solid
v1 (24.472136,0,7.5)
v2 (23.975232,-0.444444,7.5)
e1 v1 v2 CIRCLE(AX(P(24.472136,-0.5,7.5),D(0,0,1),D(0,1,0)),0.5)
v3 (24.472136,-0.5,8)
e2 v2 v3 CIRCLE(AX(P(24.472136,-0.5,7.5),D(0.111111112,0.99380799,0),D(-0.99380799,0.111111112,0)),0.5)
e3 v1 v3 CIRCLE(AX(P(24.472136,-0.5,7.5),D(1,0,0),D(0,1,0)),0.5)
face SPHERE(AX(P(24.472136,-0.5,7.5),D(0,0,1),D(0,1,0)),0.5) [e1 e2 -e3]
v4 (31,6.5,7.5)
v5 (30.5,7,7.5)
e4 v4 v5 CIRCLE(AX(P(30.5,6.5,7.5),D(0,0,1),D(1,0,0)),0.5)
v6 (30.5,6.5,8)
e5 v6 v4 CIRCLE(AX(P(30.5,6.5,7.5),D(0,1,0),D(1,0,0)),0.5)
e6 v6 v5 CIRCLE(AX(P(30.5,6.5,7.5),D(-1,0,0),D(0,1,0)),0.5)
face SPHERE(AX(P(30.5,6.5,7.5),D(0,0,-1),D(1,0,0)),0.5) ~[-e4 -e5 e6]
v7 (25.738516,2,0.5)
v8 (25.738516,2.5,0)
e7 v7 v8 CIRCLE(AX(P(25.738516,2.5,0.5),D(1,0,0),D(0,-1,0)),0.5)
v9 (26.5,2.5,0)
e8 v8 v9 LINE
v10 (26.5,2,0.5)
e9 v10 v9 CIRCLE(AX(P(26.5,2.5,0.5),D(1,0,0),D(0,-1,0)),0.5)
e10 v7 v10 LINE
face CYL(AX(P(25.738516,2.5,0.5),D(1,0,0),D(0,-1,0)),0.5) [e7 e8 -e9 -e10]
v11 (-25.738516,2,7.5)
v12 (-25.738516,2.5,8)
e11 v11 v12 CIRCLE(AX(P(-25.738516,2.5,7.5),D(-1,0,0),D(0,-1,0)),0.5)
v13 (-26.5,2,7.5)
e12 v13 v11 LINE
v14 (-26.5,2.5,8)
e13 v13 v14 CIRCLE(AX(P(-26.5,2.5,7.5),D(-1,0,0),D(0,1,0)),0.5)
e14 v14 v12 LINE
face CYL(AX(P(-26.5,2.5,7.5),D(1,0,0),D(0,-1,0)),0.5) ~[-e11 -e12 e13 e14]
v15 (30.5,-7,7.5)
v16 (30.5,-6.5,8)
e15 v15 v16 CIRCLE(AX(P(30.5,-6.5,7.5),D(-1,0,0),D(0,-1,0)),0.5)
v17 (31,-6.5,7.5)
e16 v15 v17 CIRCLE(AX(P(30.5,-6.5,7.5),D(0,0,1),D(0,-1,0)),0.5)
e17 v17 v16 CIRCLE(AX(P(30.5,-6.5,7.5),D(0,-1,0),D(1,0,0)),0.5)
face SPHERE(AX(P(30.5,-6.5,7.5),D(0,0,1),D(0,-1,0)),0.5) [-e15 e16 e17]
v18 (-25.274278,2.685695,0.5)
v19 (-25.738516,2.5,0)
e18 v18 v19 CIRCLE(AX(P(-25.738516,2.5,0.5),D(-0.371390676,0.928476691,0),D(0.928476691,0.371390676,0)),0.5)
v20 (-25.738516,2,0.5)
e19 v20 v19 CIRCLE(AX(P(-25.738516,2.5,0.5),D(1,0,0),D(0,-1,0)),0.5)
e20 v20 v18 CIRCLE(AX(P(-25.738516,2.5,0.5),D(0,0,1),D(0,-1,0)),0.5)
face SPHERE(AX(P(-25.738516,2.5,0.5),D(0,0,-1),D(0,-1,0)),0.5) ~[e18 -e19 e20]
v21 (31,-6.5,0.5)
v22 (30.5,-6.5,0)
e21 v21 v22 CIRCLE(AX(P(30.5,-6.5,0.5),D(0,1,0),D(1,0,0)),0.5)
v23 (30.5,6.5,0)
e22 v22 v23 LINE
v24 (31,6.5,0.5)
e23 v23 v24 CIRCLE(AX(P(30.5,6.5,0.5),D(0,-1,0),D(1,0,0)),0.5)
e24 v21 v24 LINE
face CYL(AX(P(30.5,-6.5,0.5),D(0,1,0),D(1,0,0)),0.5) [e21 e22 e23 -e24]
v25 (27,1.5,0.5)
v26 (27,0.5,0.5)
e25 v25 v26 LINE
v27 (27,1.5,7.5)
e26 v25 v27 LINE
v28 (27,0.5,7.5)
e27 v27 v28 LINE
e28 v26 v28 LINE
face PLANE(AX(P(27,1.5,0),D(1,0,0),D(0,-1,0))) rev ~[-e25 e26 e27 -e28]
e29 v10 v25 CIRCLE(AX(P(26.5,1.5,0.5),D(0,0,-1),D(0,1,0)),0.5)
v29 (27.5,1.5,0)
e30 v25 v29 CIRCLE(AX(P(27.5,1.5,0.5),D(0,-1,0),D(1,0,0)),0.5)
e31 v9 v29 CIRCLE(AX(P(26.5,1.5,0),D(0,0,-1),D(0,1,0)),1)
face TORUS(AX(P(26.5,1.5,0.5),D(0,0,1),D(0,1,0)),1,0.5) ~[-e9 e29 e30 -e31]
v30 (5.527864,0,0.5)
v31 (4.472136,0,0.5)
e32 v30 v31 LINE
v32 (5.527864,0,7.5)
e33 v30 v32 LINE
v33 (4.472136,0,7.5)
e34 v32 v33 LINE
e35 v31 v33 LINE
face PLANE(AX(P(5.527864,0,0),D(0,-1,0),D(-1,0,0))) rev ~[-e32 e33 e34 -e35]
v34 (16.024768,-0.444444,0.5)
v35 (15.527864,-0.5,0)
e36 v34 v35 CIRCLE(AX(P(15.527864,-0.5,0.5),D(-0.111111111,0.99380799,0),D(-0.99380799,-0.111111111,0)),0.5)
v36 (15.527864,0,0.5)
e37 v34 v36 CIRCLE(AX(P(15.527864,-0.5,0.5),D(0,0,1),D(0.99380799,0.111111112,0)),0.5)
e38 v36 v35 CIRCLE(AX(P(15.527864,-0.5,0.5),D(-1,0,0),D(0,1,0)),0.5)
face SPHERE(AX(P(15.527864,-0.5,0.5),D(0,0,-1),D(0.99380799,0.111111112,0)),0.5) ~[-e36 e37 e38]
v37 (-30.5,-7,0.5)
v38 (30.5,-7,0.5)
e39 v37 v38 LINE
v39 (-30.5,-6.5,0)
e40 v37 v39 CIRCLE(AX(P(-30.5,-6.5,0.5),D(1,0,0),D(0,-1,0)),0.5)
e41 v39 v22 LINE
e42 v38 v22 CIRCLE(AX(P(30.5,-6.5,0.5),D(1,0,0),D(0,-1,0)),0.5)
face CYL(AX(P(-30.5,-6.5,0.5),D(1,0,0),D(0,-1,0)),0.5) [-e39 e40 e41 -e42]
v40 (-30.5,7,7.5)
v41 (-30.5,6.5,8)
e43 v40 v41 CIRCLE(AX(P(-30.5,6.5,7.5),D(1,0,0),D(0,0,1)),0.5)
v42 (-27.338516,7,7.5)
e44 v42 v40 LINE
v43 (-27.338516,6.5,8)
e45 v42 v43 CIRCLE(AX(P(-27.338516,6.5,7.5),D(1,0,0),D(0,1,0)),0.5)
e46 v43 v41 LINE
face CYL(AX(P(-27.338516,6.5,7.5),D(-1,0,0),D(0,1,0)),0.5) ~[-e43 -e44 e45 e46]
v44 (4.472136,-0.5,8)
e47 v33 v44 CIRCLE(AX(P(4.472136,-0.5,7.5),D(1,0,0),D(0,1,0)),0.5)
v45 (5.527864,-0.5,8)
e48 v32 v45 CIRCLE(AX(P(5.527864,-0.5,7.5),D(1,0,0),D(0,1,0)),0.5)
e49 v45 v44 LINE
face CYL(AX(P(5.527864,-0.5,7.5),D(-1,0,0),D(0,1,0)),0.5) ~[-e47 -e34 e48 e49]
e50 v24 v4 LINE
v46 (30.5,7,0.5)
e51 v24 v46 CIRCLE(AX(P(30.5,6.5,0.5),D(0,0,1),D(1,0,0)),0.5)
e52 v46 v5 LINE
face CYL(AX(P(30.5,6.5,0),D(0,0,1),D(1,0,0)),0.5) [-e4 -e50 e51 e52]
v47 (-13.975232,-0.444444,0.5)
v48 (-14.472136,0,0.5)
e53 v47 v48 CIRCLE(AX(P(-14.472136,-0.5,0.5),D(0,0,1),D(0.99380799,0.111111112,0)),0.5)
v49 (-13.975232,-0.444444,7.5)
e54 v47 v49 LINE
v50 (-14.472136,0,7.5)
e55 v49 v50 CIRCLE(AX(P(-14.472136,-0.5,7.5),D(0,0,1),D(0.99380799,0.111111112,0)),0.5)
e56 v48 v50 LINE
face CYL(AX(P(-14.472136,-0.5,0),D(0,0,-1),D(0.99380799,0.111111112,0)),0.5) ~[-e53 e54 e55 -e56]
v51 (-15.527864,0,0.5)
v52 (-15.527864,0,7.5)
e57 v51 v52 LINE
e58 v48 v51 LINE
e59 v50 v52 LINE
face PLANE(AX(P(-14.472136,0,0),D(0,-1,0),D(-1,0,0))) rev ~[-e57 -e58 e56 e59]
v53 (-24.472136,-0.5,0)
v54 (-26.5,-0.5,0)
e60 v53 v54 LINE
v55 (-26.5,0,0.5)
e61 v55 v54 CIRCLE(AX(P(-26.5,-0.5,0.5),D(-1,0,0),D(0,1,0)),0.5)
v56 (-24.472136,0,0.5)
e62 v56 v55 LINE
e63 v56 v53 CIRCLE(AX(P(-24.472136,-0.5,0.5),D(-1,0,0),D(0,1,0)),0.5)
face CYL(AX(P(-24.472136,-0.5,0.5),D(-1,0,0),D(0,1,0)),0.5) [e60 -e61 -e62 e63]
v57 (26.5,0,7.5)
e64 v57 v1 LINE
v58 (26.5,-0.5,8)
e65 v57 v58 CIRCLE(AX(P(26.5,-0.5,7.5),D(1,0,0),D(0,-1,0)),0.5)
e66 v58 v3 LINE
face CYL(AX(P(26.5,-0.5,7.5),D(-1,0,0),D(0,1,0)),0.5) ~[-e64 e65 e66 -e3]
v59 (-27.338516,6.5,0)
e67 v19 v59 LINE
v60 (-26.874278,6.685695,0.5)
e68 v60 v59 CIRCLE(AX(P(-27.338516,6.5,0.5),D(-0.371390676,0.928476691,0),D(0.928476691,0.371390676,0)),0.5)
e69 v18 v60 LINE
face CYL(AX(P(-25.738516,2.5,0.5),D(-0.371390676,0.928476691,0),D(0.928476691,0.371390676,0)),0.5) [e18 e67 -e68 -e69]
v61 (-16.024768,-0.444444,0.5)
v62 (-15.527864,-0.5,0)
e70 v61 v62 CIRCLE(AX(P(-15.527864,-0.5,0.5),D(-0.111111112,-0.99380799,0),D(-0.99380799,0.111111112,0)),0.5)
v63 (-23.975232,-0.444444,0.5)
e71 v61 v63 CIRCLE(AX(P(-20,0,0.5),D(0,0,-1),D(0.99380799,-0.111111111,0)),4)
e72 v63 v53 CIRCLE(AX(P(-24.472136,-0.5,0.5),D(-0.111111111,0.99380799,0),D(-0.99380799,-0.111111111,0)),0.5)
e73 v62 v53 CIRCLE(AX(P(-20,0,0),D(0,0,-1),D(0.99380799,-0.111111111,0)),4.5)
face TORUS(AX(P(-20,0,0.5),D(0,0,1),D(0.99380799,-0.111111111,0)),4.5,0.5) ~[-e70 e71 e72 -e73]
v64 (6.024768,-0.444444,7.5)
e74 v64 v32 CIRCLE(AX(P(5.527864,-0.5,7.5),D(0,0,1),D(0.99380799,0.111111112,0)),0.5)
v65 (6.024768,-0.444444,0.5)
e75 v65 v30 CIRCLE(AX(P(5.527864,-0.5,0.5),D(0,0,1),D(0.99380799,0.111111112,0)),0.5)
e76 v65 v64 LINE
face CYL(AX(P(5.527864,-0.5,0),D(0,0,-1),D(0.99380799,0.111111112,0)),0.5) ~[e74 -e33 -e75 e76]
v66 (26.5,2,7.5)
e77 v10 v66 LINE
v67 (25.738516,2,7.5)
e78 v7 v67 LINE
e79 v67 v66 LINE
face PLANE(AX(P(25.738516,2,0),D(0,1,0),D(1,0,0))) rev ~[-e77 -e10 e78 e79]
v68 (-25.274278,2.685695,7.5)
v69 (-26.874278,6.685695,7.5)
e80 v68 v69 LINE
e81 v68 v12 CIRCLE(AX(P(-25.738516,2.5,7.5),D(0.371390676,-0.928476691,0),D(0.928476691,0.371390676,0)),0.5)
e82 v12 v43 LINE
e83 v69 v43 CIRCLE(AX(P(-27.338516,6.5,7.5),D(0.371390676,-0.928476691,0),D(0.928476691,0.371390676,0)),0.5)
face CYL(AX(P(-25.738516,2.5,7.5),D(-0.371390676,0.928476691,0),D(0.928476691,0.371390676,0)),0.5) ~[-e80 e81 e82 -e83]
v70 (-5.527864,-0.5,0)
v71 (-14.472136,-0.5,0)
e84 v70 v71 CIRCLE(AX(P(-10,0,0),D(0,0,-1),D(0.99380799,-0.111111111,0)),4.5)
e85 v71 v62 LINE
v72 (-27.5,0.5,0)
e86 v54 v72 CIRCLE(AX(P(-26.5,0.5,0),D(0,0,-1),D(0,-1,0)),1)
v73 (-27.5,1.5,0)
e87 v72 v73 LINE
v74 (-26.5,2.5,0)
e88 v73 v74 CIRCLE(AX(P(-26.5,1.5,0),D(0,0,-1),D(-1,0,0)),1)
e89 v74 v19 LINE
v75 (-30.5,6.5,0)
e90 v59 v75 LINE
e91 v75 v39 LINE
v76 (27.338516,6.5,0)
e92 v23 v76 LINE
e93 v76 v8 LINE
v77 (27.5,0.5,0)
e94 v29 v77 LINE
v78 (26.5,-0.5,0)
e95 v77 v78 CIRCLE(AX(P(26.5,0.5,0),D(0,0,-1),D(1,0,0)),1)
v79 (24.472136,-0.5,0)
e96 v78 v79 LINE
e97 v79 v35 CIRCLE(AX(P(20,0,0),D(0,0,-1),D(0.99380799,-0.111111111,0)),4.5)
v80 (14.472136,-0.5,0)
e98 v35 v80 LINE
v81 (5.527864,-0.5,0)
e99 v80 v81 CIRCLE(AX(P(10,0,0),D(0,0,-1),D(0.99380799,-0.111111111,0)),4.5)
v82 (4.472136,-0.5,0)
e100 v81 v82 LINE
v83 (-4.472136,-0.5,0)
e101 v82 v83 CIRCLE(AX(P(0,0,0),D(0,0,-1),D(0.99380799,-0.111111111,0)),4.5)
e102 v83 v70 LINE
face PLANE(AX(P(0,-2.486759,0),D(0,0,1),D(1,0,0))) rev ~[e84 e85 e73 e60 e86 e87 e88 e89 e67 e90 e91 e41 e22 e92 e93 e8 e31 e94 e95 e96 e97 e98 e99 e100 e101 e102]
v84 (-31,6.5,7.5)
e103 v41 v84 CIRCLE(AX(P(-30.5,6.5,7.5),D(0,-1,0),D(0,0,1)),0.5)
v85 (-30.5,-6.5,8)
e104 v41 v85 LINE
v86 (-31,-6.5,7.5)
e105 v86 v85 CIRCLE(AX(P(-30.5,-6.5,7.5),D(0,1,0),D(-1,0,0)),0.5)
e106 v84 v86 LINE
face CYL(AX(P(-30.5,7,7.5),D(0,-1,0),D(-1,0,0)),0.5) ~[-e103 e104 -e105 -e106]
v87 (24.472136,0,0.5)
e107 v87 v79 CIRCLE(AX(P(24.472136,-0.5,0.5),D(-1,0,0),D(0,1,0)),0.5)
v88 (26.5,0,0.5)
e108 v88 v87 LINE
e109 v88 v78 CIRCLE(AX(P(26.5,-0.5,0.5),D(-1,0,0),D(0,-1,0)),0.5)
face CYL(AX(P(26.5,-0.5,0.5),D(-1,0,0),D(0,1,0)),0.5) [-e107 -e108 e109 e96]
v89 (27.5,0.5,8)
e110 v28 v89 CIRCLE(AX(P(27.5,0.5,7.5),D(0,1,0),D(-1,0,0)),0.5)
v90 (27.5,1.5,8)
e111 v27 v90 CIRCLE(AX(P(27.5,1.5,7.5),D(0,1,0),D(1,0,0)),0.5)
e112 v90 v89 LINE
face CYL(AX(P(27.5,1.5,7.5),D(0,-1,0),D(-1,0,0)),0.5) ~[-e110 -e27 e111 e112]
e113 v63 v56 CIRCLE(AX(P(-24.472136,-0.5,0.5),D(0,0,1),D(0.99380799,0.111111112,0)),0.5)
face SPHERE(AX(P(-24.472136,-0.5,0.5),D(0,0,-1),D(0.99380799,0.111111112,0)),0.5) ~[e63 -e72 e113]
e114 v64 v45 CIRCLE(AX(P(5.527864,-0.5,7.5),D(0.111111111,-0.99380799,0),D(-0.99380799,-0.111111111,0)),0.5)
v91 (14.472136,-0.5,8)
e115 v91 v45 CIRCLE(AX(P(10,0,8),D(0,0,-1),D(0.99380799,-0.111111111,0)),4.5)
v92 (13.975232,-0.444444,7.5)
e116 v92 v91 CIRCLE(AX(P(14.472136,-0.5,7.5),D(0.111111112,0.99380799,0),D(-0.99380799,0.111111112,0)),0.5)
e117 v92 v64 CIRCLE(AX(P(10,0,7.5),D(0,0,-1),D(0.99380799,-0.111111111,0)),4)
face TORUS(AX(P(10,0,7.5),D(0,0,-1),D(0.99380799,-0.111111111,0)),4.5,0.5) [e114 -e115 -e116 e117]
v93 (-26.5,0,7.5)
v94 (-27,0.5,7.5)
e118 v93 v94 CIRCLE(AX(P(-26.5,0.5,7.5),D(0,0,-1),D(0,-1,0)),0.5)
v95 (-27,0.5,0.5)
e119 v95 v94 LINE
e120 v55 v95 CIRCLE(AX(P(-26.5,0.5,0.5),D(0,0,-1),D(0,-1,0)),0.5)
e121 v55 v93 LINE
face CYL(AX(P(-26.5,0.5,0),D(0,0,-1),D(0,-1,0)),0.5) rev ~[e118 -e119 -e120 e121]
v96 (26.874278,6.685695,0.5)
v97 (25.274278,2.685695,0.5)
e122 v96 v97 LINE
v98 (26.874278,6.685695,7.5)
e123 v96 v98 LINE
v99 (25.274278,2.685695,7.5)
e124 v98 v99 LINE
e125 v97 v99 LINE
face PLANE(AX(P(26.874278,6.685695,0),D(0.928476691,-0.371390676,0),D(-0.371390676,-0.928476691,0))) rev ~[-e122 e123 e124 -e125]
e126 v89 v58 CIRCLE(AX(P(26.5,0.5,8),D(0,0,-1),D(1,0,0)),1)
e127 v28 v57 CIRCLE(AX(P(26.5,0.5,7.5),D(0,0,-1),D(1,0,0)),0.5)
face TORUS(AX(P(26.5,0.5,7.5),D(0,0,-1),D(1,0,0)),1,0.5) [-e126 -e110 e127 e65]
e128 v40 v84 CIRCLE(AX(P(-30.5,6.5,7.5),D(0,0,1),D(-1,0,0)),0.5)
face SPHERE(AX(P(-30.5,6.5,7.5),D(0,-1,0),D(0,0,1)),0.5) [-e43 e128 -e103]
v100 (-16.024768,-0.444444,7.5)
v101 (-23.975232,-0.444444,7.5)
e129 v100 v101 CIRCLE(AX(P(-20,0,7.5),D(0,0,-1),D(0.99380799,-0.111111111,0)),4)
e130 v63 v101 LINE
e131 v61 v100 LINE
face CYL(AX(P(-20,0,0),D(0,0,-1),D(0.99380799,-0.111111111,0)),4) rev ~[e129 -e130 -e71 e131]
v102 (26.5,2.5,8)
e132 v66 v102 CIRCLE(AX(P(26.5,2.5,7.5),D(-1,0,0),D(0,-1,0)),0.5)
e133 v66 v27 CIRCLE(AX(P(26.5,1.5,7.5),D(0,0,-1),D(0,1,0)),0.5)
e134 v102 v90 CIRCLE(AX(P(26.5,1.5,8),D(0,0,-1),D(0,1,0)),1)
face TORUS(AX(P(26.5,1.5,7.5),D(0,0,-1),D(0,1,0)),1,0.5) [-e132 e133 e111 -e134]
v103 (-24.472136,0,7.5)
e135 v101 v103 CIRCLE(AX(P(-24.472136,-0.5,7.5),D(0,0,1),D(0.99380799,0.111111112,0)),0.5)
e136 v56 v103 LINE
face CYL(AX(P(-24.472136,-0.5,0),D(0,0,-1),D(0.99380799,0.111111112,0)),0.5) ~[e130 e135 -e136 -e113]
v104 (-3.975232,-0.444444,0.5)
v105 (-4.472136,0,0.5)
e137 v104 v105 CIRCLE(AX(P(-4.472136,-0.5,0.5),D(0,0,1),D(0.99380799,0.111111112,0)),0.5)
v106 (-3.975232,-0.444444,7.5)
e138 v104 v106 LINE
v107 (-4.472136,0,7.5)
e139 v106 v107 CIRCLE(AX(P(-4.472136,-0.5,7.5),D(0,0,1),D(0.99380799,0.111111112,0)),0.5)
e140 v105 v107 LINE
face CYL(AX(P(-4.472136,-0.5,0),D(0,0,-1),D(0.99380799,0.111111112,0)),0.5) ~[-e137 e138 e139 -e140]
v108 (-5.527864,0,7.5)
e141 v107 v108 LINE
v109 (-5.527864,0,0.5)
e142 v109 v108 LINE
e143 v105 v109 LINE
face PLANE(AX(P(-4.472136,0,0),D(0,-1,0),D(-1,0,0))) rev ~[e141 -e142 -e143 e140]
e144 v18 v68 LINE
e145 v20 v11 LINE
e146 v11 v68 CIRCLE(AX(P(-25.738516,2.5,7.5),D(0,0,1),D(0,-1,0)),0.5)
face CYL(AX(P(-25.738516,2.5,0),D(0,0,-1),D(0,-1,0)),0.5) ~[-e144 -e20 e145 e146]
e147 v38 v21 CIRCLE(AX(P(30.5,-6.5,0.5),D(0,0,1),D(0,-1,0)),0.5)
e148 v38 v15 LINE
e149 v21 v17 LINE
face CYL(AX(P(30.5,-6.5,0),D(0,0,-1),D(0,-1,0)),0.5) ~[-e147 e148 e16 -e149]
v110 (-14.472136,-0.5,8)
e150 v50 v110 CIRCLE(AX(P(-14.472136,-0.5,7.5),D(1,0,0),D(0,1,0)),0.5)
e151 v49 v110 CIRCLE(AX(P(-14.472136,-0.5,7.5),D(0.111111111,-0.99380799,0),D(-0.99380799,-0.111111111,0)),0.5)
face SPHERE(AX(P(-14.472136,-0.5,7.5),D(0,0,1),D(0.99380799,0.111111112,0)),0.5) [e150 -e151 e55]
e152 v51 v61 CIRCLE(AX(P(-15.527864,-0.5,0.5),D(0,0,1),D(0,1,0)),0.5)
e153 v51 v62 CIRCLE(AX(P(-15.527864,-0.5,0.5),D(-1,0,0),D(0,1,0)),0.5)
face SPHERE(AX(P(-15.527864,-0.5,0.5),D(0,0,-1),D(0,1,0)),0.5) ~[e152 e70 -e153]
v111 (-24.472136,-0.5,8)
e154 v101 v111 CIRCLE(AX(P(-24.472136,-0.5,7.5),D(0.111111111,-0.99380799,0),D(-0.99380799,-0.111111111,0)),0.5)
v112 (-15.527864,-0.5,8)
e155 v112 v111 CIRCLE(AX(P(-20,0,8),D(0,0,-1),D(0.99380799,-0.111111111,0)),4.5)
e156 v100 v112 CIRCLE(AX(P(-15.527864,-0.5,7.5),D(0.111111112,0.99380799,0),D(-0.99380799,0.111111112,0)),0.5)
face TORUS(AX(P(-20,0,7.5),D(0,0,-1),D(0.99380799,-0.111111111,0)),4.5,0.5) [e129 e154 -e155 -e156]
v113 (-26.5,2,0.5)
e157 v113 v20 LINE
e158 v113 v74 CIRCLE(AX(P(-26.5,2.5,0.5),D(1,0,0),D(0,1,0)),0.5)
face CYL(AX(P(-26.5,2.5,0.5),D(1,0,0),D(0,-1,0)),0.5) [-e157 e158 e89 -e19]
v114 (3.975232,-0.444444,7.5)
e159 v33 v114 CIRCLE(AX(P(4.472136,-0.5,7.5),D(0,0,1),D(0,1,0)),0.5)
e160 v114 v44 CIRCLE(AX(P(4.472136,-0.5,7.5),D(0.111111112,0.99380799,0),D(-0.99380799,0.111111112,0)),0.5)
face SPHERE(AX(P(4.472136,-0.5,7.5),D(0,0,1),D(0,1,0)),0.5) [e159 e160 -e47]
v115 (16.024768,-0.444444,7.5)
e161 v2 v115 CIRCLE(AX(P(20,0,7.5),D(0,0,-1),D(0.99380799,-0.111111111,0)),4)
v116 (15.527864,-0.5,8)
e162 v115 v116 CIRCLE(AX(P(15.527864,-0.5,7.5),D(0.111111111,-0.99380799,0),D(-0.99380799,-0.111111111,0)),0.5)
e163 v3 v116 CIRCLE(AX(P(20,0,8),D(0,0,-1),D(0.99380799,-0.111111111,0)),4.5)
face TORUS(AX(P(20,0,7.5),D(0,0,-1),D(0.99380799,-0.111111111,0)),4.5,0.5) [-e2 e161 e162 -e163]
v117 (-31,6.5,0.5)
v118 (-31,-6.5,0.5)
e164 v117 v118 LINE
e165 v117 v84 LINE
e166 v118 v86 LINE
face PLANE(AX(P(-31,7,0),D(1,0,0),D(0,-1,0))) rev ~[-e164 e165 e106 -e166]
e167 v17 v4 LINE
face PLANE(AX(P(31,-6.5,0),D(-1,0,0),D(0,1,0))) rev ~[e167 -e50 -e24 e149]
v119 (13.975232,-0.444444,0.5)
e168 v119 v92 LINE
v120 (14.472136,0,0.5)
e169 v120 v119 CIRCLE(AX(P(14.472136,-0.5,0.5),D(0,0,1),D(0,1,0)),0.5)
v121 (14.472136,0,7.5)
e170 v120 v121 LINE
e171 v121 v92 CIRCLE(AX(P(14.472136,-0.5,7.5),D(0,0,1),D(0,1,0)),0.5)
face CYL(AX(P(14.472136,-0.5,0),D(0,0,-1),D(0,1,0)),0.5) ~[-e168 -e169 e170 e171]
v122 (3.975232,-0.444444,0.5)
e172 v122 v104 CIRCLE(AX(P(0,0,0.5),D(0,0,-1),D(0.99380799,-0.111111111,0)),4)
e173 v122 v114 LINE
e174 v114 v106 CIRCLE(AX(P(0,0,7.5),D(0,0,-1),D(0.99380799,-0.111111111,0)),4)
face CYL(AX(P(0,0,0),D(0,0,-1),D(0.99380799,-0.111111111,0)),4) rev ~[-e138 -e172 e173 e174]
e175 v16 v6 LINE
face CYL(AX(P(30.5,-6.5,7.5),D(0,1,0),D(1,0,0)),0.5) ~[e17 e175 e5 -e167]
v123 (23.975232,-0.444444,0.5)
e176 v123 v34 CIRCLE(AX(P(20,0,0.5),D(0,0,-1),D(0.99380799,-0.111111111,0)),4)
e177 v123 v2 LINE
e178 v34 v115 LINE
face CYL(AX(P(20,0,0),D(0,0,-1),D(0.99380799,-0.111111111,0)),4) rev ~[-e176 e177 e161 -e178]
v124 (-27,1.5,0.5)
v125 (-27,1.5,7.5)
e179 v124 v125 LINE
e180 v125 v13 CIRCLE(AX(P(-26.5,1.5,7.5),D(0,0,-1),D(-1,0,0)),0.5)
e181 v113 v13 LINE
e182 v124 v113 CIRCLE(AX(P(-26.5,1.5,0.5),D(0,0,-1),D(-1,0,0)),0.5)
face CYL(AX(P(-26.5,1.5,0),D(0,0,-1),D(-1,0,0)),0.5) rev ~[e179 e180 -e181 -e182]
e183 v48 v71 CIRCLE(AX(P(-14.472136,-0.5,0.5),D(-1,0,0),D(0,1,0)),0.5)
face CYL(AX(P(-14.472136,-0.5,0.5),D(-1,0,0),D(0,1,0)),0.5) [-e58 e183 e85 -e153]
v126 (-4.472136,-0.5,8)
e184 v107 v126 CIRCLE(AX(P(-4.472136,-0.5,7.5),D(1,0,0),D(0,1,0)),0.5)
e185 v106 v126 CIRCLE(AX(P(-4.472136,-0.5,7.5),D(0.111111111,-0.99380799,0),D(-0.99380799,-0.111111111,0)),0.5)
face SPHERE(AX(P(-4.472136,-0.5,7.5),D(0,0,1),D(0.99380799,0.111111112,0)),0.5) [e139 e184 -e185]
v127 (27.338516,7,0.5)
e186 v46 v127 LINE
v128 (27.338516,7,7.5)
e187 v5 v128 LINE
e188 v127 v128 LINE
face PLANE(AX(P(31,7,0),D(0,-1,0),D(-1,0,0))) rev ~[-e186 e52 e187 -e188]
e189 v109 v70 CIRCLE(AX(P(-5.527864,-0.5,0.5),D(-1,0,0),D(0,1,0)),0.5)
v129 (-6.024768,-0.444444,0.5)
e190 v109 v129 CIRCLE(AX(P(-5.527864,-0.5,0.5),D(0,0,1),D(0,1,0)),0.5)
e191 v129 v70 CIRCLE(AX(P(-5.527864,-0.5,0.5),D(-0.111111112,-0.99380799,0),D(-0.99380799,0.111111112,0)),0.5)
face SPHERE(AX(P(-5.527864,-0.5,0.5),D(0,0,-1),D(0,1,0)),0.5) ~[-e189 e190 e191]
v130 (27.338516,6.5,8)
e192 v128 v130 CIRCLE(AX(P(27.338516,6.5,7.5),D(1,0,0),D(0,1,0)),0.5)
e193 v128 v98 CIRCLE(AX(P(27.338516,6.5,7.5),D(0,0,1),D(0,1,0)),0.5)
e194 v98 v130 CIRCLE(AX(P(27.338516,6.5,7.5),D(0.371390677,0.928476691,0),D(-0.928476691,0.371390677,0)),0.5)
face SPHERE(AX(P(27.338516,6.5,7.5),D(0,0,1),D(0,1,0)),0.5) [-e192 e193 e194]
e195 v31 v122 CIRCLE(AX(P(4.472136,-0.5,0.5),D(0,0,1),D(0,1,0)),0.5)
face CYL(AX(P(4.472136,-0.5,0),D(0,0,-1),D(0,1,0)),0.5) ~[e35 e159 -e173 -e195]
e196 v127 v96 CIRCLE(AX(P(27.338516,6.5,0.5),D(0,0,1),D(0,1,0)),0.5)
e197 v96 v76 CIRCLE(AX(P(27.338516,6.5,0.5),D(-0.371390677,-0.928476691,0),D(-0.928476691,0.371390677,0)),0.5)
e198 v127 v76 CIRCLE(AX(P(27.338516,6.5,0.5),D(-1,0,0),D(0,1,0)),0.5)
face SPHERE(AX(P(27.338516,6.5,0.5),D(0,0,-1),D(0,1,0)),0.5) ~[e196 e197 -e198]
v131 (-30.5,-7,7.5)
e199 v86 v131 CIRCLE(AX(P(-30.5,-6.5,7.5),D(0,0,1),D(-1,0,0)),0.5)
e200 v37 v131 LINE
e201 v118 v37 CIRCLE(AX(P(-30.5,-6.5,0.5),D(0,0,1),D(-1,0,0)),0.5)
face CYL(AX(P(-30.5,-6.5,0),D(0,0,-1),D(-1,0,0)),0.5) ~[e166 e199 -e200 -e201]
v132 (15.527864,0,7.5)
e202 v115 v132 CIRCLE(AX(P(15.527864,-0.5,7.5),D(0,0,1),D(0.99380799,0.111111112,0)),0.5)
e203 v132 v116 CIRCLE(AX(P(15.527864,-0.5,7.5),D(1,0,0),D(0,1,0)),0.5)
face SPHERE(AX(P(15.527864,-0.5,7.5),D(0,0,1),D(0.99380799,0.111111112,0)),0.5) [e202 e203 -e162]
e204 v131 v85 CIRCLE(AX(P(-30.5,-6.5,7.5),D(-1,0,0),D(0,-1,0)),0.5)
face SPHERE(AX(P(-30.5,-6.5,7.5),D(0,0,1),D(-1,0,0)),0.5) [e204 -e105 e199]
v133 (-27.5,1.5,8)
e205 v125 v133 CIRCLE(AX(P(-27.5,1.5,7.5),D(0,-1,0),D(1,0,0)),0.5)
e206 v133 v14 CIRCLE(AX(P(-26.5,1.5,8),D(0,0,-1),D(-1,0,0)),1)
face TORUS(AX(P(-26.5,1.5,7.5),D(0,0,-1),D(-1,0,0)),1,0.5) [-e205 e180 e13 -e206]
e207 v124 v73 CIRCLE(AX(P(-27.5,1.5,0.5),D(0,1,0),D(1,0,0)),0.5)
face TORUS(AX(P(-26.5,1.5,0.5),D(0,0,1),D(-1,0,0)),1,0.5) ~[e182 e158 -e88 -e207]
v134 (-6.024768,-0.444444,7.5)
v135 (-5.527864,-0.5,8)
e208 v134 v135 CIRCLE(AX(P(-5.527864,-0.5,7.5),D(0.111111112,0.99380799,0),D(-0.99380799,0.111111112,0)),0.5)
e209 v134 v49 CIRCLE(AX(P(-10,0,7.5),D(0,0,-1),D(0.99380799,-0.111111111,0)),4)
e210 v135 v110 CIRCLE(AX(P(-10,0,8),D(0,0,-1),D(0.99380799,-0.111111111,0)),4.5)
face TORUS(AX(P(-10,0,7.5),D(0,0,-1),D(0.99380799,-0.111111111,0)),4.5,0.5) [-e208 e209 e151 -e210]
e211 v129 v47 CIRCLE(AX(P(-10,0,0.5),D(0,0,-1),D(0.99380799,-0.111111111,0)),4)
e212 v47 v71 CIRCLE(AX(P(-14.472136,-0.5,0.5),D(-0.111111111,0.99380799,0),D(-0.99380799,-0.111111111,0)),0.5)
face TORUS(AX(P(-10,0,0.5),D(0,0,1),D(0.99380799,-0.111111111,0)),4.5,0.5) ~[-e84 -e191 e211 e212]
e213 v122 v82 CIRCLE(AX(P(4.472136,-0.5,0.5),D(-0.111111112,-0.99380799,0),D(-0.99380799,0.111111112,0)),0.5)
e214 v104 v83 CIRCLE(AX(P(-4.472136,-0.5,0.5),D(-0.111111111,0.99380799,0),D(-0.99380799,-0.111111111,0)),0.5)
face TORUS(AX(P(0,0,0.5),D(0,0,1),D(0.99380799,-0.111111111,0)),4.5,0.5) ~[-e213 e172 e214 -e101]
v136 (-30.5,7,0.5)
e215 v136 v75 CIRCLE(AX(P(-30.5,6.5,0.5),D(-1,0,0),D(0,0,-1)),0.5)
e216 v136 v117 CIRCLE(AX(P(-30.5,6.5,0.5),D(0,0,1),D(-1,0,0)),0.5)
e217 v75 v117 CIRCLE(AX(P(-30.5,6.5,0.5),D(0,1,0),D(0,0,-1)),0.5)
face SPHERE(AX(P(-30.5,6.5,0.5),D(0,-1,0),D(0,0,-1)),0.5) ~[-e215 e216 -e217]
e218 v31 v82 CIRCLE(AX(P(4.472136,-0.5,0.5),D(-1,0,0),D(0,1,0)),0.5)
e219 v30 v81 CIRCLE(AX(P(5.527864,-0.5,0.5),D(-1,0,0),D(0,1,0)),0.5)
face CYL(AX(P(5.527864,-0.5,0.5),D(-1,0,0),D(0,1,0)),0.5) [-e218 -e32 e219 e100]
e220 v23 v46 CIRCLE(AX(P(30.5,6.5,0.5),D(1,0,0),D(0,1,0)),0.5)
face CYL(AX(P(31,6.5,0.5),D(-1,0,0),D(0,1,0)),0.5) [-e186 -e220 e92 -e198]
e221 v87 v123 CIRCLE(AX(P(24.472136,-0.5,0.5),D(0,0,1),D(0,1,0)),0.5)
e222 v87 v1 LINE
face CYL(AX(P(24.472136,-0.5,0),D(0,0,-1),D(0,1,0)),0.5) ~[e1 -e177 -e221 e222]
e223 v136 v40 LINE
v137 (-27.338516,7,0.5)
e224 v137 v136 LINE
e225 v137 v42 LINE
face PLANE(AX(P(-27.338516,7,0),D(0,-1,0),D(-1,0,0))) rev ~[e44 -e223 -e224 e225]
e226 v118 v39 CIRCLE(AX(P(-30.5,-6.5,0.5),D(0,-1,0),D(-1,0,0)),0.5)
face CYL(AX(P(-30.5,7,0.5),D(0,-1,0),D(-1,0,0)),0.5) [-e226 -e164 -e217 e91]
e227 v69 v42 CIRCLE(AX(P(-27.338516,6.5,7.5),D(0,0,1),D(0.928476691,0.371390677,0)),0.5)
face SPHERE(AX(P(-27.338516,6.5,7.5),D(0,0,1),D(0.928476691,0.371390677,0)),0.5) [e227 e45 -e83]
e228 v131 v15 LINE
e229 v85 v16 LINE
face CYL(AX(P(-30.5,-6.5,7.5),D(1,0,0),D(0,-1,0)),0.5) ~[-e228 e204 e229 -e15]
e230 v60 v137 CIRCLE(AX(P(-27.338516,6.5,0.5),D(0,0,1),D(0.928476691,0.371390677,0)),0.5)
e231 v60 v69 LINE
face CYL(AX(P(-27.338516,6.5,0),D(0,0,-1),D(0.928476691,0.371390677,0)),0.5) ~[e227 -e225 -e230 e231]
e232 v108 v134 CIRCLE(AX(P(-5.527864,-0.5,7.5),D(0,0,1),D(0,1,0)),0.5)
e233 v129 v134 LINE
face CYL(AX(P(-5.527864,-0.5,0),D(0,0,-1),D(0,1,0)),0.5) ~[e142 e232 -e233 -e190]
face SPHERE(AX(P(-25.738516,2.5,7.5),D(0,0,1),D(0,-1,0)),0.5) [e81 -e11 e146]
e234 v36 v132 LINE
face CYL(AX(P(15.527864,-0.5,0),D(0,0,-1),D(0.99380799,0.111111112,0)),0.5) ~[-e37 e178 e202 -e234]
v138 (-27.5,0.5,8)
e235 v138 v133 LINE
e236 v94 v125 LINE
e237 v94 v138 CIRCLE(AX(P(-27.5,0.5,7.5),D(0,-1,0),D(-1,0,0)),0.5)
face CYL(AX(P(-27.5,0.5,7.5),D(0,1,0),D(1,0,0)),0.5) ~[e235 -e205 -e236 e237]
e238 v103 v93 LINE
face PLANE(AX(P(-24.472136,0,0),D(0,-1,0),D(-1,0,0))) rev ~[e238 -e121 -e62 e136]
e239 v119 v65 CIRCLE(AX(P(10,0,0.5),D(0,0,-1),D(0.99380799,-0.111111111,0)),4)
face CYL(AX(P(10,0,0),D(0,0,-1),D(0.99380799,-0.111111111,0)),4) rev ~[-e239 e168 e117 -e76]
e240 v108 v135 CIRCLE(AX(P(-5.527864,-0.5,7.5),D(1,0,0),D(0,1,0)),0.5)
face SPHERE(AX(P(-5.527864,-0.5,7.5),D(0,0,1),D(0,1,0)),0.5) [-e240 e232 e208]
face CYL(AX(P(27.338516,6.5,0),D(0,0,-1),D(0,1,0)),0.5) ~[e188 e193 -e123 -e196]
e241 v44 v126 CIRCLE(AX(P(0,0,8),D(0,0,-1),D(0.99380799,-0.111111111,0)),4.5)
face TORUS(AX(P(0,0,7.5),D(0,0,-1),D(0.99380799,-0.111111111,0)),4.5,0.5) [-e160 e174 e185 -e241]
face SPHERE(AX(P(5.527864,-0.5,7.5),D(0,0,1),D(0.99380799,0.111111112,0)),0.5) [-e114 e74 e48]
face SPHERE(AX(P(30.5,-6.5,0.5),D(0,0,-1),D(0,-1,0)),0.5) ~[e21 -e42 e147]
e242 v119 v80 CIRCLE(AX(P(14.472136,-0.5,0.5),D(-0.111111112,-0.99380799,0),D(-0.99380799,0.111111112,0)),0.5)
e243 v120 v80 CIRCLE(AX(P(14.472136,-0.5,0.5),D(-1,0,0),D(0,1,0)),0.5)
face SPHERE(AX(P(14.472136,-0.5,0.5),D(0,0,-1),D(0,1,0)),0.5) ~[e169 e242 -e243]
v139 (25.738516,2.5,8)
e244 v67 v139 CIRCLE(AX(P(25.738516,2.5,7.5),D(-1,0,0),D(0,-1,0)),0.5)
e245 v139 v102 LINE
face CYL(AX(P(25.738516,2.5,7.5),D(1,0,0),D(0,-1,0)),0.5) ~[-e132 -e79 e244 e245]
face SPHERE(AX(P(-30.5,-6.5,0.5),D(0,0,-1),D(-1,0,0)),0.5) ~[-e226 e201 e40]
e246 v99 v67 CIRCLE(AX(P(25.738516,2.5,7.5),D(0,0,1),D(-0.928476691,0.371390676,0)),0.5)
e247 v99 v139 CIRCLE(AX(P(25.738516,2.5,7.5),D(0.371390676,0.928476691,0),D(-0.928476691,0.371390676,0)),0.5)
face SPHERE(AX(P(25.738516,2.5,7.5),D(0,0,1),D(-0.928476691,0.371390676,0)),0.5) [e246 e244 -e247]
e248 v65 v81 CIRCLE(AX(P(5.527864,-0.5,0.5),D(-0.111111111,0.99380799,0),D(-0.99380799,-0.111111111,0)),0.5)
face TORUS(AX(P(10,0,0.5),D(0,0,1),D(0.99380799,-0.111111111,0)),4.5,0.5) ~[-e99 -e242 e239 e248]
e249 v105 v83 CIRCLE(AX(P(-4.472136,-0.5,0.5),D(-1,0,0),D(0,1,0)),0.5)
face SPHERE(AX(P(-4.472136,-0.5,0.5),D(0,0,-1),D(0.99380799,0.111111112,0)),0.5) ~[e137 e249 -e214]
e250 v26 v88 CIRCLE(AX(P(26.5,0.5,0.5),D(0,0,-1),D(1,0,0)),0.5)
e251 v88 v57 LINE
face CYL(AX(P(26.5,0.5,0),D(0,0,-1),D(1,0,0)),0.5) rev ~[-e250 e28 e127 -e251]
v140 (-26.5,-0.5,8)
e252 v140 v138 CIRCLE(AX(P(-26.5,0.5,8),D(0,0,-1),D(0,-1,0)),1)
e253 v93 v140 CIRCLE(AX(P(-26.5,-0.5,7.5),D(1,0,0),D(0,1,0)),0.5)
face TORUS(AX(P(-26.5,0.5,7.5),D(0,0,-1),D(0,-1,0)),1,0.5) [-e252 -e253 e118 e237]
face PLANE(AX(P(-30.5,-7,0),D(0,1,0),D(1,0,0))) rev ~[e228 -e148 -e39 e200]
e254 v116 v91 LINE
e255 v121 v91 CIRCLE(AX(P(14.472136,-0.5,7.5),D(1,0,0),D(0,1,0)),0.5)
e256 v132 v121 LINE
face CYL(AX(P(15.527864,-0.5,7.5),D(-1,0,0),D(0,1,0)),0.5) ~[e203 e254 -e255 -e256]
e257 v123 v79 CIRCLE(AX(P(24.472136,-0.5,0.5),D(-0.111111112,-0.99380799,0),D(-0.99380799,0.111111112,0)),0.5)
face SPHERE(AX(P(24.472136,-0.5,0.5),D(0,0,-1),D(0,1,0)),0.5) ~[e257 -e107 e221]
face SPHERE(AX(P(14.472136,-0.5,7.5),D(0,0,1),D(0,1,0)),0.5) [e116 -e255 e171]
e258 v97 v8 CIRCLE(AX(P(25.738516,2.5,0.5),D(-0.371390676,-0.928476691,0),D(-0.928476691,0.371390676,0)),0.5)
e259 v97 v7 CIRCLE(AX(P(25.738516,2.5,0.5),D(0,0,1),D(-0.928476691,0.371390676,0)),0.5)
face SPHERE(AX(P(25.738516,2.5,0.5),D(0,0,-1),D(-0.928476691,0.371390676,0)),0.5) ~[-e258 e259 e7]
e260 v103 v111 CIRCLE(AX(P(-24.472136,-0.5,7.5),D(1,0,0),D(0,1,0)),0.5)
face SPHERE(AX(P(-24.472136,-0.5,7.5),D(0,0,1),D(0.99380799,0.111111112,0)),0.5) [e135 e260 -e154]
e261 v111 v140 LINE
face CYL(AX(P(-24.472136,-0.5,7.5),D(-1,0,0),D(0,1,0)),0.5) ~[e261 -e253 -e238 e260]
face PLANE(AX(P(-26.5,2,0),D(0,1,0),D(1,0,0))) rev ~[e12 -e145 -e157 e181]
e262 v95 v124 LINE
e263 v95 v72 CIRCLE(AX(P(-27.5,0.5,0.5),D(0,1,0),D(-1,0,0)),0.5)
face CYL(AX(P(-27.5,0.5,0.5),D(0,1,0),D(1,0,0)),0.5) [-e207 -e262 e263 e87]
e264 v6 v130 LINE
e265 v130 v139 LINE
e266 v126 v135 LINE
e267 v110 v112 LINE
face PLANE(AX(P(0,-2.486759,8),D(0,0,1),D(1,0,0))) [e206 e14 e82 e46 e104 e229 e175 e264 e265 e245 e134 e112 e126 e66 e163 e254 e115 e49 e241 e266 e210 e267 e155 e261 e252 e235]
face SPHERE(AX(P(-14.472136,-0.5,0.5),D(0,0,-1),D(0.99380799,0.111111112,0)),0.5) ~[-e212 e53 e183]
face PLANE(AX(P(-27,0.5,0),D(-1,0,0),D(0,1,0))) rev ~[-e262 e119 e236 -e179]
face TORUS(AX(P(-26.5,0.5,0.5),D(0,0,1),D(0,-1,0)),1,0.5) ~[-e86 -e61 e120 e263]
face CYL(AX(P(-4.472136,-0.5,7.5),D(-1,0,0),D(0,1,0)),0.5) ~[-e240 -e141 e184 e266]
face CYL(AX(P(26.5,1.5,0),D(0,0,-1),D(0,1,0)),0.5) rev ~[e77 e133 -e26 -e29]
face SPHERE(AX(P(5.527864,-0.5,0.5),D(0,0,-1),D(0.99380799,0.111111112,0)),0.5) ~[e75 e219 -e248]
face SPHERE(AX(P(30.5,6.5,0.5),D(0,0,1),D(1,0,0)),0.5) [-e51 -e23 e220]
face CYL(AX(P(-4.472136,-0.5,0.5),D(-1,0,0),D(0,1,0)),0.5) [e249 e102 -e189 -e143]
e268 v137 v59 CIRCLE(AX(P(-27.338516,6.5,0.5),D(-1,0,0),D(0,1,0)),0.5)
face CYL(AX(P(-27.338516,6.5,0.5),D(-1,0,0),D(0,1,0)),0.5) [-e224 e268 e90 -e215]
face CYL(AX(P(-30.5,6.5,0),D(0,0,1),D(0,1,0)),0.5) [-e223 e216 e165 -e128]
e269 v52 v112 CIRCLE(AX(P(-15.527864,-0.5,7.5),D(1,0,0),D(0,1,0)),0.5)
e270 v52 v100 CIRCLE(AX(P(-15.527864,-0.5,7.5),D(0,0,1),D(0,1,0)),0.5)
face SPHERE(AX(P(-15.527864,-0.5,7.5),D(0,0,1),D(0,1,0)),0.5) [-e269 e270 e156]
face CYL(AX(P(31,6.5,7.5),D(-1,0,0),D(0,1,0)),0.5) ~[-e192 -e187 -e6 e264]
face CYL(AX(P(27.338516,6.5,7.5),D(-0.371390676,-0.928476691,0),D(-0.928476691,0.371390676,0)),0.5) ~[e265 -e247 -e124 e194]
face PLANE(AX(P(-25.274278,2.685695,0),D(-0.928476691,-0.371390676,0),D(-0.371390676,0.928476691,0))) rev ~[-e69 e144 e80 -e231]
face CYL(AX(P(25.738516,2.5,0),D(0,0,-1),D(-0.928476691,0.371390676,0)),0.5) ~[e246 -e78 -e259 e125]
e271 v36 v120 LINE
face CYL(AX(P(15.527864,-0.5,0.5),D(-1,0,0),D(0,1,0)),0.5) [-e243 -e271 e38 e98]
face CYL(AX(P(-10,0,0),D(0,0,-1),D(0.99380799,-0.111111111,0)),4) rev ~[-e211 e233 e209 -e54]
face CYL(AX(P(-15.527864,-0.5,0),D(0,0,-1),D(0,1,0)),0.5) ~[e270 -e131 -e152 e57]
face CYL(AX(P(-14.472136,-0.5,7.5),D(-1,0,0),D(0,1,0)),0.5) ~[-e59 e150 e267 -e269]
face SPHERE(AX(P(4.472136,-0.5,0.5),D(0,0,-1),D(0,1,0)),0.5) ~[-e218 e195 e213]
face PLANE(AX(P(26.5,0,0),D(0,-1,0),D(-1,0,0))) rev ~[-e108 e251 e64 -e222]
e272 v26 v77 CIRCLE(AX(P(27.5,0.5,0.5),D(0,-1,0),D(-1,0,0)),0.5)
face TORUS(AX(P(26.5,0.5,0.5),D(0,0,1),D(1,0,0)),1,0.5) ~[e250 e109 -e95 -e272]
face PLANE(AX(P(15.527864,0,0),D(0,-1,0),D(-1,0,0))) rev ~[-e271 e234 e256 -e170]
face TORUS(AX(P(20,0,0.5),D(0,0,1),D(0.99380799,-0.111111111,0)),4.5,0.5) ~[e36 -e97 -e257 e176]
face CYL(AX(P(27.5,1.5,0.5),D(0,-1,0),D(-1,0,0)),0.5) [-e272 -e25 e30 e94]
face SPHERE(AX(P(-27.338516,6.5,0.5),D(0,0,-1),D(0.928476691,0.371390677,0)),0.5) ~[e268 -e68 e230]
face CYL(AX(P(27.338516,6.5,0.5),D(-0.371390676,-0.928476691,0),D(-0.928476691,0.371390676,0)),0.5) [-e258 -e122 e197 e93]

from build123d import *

# Parameters (mm, degrees)
F1_DEPTH = 8
F2_R     = 0.5


with BuildPart() as f1:
    # F0 (on Top) → F1 (new body)
    with BuildSketch(Plane.XY):
        with BuildLine():
            ThreePointArc((3.97523196, -0.4444444444), (0, -4), (-3.97523196, -0.4444444444))
            ThreePointArc((-3.97523196, -0.4444444444), (-4.1388026217, -0.1273220038), (-4.472135955, 0))
            Line((-4.472135955, 0), (-5.527864045, 0))
            ThreePointArc((-5.527864045, 0), (-5.8611973783, -0.1273220038), (-6.02476804, -0.4444444444))
            ThreePointArc((-6.02476804, -0.4444444444), (-10, -4), (-13.97523196, -0.4444444444))
            ThreePointArc((-13.97523196, -0.4444444444), (-14.1388026217, -0.1273220038), (-14.472135955, 0))
            Line((-14.472135955, 0), (-15.527864045, 0))
            ThreePointArc((-15.527864045, 0), (-15.8611973783, -0.1273220038), (-16.02476804, -0.4444444444))
            ThreePointArc((-16.02476804, -0.4444444444), (-20, -4), (-23.97523196, -0.4444444444))
            ThreePointArc((-23.97523196, -0.4444444444), (-24.1388026217, -0.1273220038), (-24.472135955, 0))
            Line((-24.472135955, 0), (-26.5, 0))
            ThreePointArc((-26.5, 0), (-26.8535533906, 0.1464466094), (-27, 0.5))
            Line((-27, 0.5), (-27, 1.5))
            ThreePointArc((-27, 1.5), (-26.8535533906, 1.8535533906), (-26.5, 2))
            Line((-26.5, 2), (-25.7385164807, 2))
            ThreePointArc((-25.7385164807, 2), (-25.3244828655, 2.2196855953), (-25.2742781353, 2.6856953382))
            Line((-25.2742781353, 2.6856953382), (-26.8742781353, 6.6856953382))
            ThreePointArc((-26.8742781353, 6.6856953382), (-27.0582020761, 6.9140336152), (-27.3385164807, 7))
            Line((-27.3385164807, 7), (-30.5, 7))
            ThreePointArc((-30.5, 7), (-30.8535533906, 6.8535533906), (-31, 6.5))
            Line((-31, 6.5), (-31, 0))
            Line((-31, 0), (-31, -6.5))
            ThreePointArc((-31, -6.5), (-30.8535533906, -6.8535533906), (-30.5, -7))
            Line((-30.5, -7), (30.5, -7))
            ThreePointArc((30.5, -7), (30.8535533906, -6.8535533906), (31, -6.5))
            Line((31, -6.5), (31, 0))
            Line((31, 0), (31, 6.5))
            ThreePointArc((31, 6.5), (30.8535533906, 6.8535533906), (30.5, 7))
            Line((30.5, 7), (27.3385164807, 7))
            ThreePointArc((27.3385164807, 7), (27.0582020761, 6.9140336152), (26.8742781353, 6.6856953382))
            Line((26.8742781353, 6.6856953382), (25.2742781353, 2.6856953382))
            ThreePointArc((25.2742781353, 2.6856953382), (25.3244828655, 2.2196855953), (25.7385164807, 2))
            Line((25.7385164807, 2), (26.5, 2))
            ThreePointArc((26.5, 2), (26.8535533906, 1.8535533906), (27, 1.5))
            Line((27, 1.5), (27, 0.5))
            ThreePointArc((27, 0.5), (26.8535533906, 0.1464466094), (26.5, 0))
            Line((26.5, 0), (24.472135955, 0))
            ThreePointArc((24.472135955, 0), (24.1388026217, -0.1273220038), (23.97523196, -0.4444444444))
            ThreePointArc((23.97523196, -0.4444444444), (20, -4), (16.02476804, -0.4444444444))
            ThreePointArc((16.02476804, -0.4444444444), (15.8611973783, -0.1273220038), (15.527864045, 0))
            Line((15.527864045, 0), (14.472135955, 0))
            ThreePointArc((14.472135955, 0), (14.1388026217, -0.1273220038), (13.97523196, -0.4444444444))
            ThreePointArc((13.97523196, -0.4444444444), (10, -4), (6.02476804, -0.4444444444))
            ThreePointArc((6.02476804, -0.4444444444), (5.8611973783, -0.1273220038), (5.527864045, 0))
            Line((5.527864045, 0), (4.472135955, 0))
            ThreePointArc((4.472135955, 0), (4.1388026217, -0.1273220038), (3.97523196, -0.4444444444))
        make_face()
        with BuildLine():
            ThreePointArc((-31, 6.5), (-30.8535533906, 6.8535533906), (-30.5, 7))
            Line((-30.5, 7), (-31, 7))
            Line((-31, 7), (-31, 6.5))
        make_face()
        with BuildLine():
            Line((31, 7), (30.5, 7))
            ThreePointArc((30.5, 7), (30.8535533906, 6.8535533906), (31, 6.5))
            Line((31, 6.5), (31, 7))
        make_face()
    extrude(amount=F1_DEPTH)

    # F2
    f2_edges = [f1.edges().sort_by_distance(p)[0] for p in [
        (31, -6.5, 4),
        (31, 7, 4),
        (31, 0.25, 0),
        (31, 0.25, 8),
        (26.074278, 4.685695, 8),
        (25.324483, 2.219686, 8),
        (26.119258, 2, 8),
        (26.853553, 1.853553, 8),
        (27, 1, 8),
        (26.853553, 0.146447, 8),
        (25.486068, 0, 8),
        (24.138803, -0.127322, 8),
        (20, -4, 8),
        (15.861197, -0.127322, 8),
        (15, 0, 8),
        (14.138803, -0.127322, 8),
        (10, -4, 8),
        (5.861197, -0.127322, 8),
        (5, 0, 8),
        (4.138803, -0.127322, 8),
        (0, -4, 8),
        (-4.138803, -0.127322, 8),
        (-5, 0, 8),
        (-5.861197, -0.127322, 8),
        (-10, -4, 8),
        (-14.138803, -0.127322, 8),
        (-15, 0, 8),
        (-15.861197, -0.127322, 8),
        (-20, -4, 8),
        (-24.138803, -0.127322, 8),
        (-25.486068, 0, 8),
        (-26.853553, 0.146447, 8),
        (-27, 1, 8),
        (-26.853553, 1.853553, 8),
        (-26.119258, 2, 8),
        (-25.324483, 2.219686, 8),
        (-26.074278, 4.685695, 8),
        (-27.058202, 6.914034, 8),
        (-29.169258, 7, 8),
        (-31, 0.25, 8),
        (-30.853553, -6.853553, 8),
        (0, -7, 8),
        (30.853553, -6.853553, 8),
        (29.169258, 7, 8),
        (27.058202, 6.914034, 8),
        (26.074278, 4.685695, 0),
        (25.324483, 2.219686, 0),
        (26.119258, 2, 0),
        (26.853553, 1.853553, 0),
        (27, 1, 0),
        (26.853553, 0.146447, 0),
        (25.486068, 0, 0),
        (24.138803, -0.127322, 0),
        (20, -4, 0),
        (15.861197, -0.127322, 0),
        (15, 0, 0),
        (14.138803, -0.127322, 0),
        (10, -4, 0),
        (5.861197, -0.127322, 0),
        (5, 0, 0),
        (4.138803, -0.127322, 0),
        (0, -4, 0),
        (-4.138803, -0.127322, 0),
        (-5, 0, 0),
        (-5.861197, -0.127322, 0),
        (-10, -4, 0),
        (-14.138803, -0.127322, 0),
        (-15, 0, 0),
        (-15.861197, -0.127322, 0),
        (-20, -4, 0),
        (-24.138803, -0.127322, 0),
        (-25.486068, 0, 0),
        (-26.853553, 0.146447, 0),
        (-27, 1, 0),
        (-26.853553, 1.853553, 0),
        (-26.119258, 2, 0),
        (-25.324483, 2.219686, 0),
        (-26.074278, 4.685695, 0),
        (-27.058202, 6.914034, 0),
        (-29.169258, 7, 0),
        (-31, 0.25, 0),
        (-30.853553, -6.853553, 0),
        (0, -7, 0),
        (30.853553, -6.853553, 0),
        (29.169258, 7, 0),
        (27.058202, 6.914034, 0),
        (-31, 7, 4),
        (-31, -6.5, 4),
    ]]
    fillet(f2_edges, radius=F2_R)


solid = f1.part
